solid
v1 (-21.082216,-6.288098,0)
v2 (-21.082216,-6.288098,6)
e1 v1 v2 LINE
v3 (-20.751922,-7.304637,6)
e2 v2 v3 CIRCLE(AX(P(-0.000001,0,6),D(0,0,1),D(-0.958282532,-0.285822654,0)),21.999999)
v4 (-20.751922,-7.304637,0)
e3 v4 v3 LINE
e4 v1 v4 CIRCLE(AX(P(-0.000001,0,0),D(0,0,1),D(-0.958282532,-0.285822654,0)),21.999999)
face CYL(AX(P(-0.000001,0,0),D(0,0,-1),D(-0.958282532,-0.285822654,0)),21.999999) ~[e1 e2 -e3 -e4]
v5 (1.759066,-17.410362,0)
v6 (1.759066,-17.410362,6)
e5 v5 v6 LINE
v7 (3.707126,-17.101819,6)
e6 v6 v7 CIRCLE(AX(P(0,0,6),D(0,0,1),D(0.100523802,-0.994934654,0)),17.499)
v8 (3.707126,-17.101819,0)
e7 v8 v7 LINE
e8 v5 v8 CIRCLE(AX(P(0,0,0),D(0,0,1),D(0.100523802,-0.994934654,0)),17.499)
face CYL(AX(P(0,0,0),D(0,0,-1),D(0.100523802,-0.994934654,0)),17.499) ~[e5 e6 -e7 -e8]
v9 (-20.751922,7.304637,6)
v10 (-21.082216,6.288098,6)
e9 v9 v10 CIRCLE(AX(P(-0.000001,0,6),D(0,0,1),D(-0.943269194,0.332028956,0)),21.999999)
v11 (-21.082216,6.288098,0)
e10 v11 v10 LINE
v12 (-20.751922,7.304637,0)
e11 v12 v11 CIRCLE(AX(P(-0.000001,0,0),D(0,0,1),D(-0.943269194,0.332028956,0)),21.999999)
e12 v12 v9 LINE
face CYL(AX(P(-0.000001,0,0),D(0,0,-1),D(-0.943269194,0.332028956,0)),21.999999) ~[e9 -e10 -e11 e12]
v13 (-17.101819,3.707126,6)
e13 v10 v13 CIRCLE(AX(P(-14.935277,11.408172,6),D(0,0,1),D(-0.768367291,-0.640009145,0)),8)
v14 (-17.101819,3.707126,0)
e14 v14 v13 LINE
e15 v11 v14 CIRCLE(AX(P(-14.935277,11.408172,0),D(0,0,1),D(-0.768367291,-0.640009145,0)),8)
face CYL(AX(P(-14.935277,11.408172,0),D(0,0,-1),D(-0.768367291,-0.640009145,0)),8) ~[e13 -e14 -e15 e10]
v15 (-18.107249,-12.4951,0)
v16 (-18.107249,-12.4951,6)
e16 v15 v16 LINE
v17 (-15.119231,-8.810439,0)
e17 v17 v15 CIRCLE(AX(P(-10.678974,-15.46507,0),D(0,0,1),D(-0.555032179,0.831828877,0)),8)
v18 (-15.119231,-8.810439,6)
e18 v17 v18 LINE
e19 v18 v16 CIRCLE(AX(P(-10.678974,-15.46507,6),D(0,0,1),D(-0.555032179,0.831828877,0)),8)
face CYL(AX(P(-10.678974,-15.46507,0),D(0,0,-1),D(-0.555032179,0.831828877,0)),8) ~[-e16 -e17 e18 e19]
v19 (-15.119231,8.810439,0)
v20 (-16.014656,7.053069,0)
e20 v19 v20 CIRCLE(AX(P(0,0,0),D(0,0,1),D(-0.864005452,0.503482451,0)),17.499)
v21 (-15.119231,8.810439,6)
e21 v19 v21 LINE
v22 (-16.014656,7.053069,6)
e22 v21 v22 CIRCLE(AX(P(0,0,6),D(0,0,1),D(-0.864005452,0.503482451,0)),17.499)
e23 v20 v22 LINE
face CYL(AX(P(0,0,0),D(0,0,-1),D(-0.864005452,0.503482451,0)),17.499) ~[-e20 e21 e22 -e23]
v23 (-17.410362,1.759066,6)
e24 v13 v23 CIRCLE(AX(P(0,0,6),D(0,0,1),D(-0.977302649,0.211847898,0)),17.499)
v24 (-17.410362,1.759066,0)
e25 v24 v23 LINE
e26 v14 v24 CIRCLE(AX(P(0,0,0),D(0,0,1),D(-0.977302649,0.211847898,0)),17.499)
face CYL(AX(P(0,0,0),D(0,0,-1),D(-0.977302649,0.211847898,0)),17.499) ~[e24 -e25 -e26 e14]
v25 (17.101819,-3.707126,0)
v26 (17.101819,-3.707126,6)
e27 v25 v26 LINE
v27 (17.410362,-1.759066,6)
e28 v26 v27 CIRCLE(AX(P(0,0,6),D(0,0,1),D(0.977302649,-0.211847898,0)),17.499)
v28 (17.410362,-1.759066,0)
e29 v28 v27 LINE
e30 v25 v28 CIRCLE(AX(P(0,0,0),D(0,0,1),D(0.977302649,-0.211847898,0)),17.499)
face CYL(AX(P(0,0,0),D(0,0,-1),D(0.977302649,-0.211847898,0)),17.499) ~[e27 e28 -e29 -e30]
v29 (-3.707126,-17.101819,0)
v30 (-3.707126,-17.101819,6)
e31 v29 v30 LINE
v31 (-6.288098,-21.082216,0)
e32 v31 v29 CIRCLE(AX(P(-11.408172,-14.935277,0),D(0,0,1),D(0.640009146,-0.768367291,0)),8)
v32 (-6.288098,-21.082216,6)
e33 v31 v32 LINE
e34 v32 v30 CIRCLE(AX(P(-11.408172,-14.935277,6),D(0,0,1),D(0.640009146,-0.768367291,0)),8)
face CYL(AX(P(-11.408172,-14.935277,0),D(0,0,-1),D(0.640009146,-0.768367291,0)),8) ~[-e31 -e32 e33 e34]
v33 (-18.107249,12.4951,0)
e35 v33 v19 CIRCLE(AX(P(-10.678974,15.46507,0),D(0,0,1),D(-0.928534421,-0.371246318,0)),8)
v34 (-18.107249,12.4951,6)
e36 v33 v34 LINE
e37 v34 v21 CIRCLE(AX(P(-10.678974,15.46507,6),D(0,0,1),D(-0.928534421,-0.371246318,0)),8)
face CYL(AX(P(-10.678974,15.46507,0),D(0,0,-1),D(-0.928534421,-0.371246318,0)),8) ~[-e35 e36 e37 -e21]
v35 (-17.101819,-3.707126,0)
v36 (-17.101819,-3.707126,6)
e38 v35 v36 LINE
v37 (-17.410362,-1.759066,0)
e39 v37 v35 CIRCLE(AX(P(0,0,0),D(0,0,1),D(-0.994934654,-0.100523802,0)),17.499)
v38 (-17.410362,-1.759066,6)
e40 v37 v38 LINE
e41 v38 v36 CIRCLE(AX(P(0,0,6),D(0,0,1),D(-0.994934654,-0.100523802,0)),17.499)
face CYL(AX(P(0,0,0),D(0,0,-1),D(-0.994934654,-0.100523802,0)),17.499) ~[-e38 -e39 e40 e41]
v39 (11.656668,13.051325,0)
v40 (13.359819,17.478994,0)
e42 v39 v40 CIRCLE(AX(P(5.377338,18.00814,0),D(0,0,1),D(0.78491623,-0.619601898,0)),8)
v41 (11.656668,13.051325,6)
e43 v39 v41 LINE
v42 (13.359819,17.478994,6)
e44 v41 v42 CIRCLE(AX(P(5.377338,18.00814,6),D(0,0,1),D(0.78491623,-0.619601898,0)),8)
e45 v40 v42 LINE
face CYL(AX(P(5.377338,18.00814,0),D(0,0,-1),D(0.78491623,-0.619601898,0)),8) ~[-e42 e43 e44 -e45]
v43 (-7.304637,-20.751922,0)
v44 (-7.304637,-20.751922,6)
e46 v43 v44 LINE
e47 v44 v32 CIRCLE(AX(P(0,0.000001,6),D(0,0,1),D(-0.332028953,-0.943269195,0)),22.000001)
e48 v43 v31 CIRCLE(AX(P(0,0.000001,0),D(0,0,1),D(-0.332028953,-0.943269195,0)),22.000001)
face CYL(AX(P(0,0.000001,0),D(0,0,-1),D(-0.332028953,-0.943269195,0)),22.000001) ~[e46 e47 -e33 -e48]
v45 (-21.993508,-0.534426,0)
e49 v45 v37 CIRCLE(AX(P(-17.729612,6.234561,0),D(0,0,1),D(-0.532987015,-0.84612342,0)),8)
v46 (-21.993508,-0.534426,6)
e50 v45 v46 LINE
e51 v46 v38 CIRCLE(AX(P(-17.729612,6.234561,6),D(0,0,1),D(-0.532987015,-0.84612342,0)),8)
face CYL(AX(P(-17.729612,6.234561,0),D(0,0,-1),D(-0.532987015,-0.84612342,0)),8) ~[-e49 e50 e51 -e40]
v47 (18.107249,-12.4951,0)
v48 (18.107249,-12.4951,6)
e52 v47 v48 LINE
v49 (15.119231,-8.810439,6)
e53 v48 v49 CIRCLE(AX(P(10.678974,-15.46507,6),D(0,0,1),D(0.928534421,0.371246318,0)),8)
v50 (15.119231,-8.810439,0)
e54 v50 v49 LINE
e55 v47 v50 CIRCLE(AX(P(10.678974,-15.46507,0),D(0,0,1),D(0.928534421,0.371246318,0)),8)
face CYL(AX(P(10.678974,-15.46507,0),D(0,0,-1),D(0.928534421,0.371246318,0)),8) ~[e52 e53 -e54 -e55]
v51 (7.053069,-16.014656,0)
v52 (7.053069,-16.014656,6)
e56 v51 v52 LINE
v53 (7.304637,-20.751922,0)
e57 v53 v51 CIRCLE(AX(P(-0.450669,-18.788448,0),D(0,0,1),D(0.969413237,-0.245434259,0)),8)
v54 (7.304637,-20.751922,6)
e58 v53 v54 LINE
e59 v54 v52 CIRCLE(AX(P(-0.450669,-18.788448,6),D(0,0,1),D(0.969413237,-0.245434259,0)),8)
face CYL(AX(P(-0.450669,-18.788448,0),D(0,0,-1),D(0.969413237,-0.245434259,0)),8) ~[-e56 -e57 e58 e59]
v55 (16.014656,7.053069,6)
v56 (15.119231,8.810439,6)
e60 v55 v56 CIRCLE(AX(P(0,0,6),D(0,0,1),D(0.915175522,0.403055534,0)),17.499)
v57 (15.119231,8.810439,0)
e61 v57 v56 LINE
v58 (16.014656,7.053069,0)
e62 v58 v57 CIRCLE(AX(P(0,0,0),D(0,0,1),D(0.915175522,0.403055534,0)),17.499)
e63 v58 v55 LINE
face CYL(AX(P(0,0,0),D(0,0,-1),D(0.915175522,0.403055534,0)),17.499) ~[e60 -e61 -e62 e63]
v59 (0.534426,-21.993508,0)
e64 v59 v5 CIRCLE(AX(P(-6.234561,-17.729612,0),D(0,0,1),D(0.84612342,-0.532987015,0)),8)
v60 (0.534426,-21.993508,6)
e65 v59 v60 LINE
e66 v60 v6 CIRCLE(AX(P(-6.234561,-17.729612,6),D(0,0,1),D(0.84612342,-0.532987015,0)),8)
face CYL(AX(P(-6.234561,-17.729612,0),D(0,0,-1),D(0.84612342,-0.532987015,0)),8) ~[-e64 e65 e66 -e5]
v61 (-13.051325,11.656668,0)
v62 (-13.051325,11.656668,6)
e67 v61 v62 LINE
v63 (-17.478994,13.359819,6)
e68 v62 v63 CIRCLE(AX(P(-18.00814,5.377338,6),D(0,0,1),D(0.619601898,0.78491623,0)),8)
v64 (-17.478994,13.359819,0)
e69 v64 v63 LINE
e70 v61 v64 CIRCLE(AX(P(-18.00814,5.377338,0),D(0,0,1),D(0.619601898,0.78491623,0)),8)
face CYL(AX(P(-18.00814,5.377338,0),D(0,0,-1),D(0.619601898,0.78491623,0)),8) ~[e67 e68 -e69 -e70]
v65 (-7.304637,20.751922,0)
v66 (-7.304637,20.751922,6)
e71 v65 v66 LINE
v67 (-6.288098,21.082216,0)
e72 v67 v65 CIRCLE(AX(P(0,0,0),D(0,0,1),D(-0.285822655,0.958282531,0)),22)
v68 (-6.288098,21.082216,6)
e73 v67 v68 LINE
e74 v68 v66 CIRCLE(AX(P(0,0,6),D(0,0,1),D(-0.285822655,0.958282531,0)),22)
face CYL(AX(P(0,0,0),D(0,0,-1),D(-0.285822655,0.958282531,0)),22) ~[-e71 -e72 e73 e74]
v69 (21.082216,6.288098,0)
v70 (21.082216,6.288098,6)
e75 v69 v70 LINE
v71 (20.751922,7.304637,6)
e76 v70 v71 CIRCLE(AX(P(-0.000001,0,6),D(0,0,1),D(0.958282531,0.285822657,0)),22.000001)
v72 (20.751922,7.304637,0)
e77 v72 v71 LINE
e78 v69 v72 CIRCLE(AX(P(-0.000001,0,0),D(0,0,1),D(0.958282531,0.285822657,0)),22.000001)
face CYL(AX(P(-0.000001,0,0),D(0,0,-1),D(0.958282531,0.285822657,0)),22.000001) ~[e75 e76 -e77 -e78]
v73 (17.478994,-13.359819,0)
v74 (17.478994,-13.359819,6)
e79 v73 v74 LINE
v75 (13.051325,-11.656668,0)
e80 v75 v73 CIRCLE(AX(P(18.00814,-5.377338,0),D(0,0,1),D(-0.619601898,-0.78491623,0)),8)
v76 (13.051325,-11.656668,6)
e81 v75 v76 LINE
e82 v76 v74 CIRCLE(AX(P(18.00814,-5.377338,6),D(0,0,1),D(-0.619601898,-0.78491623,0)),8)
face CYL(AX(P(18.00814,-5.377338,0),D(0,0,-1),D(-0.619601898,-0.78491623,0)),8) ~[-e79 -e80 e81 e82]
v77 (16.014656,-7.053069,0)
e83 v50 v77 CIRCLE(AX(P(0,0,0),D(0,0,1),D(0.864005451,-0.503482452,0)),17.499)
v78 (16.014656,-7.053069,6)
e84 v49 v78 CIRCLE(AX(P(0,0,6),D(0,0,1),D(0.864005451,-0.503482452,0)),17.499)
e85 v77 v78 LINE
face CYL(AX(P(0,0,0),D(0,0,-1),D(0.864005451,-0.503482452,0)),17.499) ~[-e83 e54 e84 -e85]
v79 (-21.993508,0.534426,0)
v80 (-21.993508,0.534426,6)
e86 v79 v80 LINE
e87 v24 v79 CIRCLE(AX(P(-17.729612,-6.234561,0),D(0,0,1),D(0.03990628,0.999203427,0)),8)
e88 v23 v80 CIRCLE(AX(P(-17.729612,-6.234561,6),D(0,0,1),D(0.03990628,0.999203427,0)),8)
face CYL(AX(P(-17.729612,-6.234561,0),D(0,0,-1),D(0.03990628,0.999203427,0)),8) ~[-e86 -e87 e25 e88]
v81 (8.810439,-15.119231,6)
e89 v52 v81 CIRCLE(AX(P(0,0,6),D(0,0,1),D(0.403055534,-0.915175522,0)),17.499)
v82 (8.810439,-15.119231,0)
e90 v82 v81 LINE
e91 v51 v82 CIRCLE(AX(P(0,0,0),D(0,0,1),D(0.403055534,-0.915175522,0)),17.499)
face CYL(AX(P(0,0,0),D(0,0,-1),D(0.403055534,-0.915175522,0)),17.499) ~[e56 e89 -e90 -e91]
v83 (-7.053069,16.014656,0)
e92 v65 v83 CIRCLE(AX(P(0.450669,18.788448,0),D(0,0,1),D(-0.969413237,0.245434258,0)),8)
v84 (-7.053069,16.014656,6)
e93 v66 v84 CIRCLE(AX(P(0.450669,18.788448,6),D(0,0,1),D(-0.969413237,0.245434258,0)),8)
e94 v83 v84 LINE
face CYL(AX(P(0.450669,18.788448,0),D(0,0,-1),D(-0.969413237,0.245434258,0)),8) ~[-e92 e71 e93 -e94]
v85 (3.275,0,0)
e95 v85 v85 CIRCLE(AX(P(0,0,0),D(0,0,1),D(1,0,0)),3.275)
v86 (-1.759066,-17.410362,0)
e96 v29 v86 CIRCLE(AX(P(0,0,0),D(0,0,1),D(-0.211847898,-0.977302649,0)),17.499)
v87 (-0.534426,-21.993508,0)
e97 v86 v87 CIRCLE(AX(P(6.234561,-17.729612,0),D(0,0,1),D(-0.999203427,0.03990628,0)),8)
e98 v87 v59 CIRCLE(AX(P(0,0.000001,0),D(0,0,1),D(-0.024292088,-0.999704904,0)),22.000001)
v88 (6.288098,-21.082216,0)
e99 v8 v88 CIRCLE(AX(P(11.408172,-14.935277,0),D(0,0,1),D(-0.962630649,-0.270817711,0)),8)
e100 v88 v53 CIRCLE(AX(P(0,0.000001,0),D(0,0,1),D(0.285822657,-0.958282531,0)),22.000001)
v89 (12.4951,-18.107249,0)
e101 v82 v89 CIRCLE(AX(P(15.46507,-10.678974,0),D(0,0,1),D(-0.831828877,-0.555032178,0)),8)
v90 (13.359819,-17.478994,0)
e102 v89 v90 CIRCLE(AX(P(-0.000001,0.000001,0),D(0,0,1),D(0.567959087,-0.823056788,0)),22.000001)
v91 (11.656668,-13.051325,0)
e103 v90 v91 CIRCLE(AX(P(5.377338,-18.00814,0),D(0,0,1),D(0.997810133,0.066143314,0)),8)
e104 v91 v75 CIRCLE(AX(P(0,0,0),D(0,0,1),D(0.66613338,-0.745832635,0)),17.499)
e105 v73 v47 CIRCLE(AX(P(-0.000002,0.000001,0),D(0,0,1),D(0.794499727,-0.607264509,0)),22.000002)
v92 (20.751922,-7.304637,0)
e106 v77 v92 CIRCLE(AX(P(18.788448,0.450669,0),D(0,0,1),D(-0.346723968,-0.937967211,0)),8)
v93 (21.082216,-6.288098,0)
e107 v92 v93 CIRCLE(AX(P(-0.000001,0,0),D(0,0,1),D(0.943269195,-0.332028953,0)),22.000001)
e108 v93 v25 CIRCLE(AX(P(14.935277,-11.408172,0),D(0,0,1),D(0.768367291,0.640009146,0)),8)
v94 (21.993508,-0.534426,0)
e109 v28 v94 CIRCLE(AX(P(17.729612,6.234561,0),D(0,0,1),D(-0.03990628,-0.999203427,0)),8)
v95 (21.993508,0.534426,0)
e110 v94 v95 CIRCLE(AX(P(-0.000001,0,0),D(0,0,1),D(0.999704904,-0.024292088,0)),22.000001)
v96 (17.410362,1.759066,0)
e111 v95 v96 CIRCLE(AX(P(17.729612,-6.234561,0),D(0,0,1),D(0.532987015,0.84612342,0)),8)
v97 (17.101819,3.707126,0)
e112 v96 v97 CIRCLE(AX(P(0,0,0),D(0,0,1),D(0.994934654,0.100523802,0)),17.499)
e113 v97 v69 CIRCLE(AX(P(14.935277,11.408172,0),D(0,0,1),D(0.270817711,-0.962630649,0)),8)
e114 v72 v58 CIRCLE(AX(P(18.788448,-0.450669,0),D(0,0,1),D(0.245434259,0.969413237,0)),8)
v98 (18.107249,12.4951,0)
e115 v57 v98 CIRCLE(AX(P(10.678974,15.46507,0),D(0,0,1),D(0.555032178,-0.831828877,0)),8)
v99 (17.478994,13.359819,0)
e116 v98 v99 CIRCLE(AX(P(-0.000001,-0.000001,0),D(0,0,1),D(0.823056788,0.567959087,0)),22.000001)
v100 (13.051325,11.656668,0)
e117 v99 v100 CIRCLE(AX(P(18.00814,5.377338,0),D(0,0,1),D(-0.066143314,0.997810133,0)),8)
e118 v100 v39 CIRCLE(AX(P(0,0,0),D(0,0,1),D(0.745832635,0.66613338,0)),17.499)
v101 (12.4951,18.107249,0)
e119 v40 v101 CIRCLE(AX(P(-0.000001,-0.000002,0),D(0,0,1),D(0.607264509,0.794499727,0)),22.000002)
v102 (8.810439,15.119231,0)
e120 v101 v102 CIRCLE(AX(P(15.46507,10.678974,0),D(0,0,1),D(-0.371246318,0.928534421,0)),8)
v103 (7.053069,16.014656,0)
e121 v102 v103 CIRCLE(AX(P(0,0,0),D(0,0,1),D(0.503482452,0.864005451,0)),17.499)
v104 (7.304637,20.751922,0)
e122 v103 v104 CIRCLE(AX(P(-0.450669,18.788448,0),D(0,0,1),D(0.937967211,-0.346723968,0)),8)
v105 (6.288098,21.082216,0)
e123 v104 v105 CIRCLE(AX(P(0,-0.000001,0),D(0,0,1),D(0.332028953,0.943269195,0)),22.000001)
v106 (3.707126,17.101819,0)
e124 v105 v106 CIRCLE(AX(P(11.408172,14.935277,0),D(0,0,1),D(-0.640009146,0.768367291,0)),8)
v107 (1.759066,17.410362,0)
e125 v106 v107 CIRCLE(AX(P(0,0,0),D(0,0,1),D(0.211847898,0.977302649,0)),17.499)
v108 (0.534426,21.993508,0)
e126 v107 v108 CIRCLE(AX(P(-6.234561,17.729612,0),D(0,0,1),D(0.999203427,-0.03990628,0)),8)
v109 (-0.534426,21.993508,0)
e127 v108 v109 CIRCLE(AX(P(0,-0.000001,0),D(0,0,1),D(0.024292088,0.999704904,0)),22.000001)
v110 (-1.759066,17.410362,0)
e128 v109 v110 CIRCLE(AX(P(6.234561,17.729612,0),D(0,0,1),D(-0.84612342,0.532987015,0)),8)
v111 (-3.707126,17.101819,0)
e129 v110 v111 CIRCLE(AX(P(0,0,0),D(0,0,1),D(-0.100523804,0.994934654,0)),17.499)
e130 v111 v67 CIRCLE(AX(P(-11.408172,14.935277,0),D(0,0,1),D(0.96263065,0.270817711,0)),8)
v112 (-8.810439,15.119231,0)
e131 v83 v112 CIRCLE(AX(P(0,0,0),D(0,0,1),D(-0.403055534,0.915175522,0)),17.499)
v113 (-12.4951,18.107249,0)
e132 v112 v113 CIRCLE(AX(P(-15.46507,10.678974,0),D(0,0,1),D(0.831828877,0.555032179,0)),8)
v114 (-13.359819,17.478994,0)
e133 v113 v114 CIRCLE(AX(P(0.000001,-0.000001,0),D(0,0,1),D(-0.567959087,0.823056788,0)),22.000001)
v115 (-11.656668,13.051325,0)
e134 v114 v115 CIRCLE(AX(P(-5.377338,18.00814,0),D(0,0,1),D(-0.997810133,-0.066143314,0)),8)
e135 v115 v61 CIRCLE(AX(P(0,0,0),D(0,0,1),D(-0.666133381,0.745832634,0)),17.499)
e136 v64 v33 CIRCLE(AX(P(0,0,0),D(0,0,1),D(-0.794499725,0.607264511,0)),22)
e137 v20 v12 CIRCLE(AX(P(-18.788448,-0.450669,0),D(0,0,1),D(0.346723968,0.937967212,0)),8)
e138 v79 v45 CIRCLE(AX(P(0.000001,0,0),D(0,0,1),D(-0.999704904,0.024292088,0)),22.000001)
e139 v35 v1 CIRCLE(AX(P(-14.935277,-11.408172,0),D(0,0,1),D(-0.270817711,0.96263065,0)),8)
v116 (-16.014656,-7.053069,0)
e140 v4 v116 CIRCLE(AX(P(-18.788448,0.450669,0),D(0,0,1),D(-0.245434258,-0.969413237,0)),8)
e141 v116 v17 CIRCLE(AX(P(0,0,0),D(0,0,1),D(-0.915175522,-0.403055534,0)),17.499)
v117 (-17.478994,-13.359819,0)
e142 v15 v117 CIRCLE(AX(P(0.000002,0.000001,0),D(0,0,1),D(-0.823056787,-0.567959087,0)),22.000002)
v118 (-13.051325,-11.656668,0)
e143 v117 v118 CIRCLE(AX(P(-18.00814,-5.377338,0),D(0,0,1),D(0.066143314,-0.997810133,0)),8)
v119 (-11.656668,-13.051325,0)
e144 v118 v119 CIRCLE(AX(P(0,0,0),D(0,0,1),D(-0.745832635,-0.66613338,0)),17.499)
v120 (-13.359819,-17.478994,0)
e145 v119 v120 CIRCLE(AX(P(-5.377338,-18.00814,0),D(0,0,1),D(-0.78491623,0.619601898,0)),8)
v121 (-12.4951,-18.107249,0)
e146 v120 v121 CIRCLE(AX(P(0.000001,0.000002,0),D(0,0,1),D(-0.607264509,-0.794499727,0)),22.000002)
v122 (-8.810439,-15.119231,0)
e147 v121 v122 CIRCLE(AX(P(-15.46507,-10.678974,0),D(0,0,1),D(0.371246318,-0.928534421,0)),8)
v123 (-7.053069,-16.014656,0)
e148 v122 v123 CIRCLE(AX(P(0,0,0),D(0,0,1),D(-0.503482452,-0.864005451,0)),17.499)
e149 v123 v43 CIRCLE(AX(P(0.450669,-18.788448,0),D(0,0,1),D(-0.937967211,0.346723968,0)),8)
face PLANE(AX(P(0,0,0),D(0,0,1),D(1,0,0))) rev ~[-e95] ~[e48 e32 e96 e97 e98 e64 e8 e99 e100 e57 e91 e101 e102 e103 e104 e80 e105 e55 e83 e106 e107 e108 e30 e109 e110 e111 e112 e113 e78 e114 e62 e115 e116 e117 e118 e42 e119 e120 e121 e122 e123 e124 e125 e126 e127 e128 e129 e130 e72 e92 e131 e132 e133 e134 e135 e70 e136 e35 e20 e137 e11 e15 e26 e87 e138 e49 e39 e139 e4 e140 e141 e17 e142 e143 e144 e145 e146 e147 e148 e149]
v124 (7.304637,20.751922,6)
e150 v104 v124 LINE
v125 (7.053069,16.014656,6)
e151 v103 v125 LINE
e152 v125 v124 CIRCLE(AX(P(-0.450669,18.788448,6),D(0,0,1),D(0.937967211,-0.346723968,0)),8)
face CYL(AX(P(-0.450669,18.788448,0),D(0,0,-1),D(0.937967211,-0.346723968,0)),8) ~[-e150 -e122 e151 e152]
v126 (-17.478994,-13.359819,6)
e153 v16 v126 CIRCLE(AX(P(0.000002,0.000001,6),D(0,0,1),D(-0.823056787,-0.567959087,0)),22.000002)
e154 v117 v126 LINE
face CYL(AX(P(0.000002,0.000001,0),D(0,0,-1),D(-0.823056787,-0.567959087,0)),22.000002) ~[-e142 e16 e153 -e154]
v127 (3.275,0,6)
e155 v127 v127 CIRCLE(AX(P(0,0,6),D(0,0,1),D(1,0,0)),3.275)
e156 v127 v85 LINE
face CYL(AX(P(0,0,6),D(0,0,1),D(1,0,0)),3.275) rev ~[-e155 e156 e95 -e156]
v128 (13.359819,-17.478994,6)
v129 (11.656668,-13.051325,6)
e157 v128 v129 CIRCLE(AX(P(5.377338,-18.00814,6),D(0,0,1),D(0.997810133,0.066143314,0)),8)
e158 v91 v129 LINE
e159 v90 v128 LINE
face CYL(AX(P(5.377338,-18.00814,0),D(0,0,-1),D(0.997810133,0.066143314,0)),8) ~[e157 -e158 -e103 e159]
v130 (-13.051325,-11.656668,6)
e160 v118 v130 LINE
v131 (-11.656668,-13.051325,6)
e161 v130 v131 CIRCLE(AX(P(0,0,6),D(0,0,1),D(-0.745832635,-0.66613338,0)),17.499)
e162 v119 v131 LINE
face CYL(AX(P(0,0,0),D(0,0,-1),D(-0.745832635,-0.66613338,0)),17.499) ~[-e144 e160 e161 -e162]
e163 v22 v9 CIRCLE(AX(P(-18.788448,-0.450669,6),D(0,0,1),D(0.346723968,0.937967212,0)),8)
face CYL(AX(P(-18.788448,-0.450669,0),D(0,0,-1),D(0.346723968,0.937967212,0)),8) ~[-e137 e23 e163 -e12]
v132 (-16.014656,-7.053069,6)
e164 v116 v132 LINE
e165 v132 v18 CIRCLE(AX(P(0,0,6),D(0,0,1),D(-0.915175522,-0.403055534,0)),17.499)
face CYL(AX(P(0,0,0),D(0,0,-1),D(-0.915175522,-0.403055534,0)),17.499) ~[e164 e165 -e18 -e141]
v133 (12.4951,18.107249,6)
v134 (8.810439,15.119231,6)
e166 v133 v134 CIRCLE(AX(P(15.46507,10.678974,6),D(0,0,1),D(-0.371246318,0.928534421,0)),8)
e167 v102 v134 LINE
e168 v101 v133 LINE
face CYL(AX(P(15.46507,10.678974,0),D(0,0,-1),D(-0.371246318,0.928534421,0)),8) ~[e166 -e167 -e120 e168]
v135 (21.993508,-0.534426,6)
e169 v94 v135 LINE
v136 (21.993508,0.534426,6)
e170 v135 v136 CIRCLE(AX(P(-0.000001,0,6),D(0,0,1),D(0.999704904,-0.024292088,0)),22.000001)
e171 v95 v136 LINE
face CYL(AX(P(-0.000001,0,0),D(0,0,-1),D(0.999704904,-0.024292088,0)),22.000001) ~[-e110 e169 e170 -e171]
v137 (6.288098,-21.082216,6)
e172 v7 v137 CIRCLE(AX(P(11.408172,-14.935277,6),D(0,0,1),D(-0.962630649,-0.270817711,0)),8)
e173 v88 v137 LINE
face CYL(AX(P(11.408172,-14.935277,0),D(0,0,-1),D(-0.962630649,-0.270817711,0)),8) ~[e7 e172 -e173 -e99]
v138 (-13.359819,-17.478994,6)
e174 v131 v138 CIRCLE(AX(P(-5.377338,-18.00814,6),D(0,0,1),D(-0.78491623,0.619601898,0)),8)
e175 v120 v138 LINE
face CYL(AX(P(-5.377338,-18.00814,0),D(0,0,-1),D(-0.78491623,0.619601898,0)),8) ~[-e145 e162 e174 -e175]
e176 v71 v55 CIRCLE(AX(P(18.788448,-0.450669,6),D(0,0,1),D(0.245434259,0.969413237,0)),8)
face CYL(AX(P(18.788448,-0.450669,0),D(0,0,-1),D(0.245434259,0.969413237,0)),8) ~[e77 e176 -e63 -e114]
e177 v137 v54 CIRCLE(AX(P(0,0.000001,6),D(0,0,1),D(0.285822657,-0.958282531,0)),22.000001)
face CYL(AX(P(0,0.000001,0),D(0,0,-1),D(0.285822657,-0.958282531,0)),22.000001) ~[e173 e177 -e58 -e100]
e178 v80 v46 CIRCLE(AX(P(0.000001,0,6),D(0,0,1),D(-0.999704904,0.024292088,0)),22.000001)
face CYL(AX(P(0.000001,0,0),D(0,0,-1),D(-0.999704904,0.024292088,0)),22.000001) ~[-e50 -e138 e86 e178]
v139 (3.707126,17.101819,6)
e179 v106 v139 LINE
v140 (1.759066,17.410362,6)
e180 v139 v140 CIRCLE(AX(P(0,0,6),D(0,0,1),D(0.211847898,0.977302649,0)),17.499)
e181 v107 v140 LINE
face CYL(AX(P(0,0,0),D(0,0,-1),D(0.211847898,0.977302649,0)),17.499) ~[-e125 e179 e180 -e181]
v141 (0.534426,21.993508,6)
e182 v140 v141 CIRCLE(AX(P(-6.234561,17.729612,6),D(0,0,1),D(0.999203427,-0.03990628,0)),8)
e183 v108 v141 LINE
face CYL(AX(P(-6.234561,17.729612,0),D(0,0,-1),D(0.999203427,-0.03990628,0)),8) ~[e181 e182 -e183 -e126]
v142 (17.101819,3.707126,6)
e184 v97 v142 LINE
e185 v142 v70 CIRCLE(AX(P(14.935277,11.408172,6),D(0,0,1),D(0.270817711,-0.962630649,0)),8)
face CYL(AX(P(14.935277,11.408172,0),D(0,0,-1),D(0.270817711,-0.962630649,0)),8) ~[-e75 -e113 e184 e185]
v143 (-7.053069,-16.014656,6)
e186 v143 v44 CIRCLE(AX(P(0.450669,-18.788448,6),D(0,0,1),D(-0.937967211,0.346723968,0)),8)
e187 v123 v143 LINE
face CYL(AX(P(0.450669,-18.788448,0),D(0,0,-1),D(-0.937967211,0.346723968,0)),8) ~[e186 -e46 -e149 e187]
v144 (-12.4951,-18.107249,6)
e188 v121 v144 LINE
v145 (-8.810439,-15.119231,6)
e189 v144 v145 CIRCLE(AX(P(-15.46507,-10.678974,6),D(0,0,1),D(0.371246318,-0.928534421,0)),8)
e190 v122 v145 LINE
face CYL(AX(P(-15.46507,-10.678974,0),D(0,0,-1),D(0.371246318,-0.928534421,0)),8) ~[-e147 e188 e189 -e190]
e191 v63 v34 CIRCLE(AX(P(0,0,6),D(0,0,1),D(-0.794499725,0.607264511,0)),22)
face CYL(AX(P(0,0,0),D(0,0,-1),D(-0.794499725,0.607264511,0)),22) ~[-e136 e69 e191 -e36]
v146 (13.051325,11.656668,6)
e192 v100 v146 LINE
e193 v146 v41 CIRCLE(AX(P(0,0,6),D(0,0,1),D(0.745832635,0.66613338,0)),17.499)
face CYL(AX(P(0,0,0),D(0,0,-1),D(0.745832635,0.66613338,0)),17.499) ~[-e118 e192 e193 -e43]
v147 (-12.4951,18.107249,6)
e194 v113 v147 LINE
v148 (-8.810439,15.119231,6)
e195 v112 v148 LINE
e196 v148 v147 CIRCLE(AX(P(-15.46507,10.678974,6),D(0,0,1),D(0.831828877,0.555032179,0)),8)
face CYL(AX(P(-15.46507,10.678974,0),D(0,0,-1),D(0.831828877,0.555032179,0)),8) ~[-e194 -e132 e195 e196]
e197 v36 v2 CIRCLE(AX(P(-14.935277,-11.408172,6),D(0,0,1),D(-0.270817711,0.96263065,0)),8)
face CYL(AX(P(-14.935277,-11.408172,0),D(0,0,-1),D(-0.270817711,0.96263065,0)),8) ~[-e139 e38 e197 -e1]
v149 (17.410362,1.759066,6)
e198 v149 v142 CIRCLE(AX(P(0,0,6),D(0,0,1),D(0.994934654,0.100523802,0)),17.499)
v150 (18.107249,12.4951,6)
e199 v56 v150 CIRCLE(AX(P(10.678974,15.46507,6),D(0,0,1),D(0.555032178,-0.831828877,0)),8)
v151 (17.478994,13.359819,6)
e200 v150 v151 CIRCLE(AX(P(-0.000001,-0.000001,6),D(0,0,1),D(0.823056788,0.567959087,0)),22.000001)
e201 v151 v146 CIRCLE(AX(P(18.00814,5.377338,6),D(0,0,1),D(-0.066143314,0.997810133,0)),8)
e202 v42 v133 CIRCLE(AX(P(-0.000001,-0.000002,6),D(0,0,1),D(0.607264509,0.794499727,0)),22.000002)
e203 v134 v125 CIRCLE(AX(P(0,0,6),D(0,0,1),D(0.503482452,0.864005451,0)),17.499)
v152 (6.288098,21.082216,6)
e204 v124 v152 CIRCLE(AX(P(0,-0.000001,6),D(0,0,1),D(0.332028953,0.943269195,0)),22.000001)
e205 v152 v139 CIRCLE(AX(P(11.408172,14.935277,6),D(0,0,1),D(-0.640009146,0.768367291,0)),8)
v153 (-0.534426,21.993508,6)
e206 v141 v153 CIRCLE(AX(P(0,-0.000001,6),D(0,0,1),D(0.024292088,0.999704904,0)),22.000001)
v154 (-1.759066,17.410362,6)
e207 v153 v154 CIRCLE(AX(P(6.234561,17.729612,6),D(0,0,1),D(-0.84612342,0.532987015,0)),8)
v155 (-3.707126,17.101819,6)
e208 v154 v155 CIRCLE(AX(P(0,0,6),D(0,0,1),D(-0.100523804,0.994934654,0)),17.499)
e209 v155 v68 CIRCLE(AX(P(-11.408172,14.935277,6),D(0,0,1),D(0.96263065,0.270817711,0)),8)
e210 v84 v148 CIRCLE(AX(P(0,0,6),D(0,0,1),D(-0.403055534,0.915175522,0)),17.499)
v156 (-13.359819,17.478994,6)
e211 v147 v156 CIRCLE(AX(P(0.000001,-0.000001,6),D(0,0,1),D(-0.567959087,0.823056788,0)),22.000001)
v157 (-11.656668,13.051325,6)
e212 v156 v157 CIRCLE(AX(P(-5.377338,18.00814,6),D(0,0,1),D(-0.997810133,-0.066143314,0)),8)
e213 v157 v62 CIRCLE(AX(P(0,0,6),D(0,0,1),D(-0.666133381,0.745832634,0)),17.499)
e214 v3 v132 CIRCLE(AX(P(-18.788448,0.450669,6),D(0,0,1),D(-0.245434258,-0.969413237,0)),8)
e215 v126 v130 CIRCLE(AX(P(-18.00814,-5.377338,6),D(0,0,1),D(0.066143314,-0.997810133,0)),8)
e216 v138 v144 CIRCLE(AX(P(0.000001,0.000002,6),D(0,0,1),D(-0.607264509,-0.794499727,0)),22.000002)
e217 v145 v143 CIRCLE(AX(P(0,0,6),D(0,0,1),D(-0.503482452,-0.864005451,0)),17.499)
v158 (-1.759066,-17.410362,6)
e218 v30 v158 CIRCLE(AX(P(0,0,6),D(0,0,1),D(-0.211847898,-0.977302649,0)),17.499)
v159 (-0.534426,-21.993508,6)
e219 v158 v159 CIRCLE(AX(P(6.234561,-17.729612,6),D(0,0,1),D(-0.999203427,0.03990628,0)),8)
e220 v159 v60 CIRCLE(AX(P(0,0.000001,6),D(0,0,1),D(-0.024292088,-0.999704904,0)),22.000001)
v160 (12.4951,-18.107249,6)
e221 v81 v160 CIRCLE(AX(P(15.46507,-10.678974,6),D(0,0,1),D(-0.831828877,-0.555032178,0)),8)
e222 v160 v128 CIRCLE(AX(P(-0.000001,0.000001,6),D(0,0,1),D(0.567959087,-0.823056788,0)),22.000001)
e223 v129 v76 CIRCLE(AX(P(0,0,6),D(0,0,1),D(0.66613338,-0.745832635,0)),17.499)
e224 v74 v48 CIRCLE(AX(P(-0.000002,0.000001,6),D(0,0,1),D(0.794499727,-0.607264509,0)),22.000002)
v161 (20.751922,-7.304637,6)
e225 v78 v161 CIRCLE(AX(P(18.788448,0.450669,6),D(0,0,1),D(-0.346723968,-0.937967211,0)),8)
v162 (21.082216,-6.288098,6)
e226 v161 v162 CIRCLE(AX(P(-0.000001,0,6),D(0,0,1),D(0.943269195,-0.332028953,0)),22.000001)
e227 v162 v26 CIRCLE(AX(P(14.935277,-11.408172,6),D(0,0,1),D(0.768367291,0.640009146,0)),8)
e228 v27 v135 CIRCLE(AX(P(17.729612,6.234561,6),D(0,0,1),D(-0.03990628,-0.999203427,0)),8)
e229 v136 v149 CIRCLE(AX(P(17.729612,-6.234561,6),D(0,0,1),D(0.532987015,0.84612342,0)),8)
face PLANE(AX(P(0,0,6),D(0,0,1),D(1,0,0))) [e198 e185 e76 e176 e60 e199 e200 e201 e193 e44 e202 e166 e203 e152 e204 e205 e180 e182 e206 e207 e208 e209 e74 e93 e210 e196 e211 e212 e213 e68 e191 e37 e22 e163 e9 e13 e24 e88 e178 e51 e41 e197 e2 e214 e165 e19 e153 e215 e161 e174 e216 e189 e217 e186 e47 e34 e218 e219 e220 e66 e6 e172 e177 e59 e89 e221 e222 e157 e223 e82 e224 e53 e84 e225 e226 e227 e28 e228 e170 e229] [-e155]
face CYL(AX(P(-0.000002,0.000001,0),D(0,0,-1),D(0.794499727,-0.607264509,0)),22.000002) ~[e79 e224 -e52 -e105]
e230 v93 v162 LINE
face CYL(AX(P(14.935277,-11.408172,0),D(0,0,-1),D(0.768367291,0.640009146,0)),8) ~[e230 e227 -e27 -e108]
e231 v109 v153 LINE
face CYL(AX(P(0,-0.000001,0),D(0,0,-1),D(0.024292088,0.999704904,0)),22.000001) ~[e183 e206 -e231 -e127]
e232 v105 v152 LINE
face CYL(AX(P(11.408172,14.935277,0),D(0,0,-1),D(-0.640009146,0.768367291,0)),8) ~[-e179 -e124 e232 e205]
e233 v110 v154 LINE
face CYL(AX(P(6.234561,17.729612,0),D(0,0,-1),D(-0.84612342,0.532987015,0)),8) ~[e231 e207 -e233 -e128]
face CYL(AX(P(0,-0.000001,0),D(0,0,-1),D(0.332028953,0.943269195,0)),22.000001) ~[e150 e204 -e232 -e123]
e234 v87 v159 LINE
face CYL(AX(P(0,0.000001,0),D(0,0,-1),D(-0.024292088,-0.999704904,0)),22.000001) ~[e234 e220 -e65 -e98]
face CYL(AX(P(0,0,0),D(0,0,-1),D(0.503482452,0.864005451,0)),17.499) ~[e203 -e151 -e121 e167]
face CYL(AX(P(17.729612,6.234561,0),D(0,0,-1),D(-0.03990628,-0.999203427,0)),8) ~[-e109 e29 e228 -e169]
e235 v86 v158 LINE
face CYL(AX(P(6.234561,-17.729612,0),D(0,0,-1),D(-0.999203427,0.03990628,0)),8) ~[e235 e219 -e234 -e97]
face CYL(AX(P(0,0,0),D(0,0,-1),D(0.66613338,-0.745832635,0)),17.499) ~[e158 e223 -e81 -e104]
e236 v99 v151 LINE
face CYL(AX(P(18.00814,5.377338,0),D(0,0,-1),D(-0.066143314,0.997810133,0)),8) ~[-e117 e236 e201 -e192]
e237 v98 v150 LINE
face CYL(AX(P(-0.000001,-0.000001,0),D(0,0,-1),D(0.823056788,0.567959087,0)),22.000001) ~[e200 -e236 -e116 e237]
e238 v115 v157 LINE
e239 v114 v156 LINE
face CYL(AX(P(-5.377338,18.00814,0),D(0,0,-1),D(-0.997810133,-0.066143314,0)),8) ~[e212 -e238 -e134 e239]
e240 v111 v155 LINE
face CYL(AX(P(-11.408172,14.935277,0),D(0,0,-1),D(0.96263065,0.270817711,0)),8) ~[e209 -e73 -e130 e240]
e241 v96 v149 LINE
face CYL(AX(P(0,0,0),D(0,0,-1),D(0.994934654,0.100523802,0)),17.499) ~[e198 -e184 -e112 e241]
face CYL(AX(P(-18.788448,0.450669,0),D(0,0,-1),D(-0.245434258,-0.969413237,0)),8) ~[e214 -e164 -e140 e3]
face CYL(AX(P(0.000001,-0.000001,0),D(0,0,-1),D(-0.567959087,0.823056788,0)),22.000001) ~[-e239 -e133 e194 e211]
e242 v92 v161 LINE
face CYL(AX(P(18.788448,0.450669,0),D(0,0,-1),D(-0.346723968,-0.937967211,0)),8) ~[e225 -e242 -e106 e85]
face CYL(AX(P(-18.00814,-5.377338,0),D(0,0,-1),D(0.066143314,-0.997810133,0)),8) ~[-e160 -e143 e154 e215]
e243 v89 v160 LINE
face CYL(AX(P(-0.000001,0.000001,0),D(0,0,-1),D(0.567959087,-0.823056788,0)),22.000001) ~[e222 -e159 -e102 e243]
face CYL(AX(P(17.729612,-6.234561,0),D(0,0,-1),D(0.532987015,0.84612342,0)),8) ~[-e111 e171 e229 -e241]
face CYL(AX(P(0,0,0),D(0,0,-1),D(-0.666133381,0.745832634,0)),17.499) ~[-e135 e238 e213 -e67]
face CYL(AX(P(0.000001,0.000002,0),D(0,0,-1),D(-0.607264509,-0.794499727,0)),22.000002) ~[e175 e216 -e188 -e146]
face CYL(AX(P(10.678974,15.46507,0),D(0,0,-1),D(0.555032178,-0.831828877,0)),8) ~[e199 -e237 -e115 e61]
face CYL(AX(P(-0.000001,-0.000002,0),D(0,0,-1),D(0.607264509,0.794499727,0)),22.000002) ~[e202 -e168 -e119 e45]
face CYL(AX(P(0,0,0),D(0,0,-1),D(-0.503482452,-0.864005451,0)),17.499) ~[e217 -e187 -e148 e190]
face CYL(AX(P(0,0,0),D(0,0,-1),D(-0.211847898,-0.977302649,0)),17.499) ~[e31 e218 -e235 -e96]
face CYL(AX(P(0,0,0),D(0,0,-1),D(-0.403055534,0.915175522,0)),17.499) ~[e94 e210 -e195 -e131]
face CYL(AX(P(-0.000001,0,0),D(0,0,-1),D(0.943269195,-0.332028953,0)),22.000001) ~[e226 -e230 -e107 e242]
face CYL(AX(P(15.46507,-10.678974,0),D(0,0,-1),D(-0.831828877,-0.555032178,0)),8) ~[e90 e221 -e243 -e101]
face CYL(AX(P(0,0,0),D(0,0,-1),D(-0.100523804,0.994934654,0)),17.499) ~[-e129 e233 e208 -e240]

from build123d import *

# Parameters (mm, degrees)
SKETCH1_R           = 2
BOSS_EXTRUDE1_DEPTH = 6
SKETCH2_R           = 5.139196493
BOSS_EXTRUDE2_DEPTH = 6
SKETCH3_R           = 3.275
CUT_EXTRUDE1_DEPTH  = 10


with BuildPart() as part:
    # Sketch1 → Boss-Extrude1 (new body)
    with BuildSketch(Plane.XY):
        with BuildLine():
            ThreePointArc((12.495099897, 18.107249337), (10.42619144, 16.892644253), (8.810439427, 15.119231399))
            ThreePointArc((8.810439427, 15.119231399), (7.944379755, 15.591723167), (7.053068783, 16.014656467))
            ThreePointArc((7.053068783, 16.014656467), (7.538074714, 18.364213225), (7.304636989, 20.751922283))
            ThreePointArc((7.304636989, 20.751922283), (6.798373876, 20.923243358), (6.288098413, 21.082215689))
            ThreePointArc((6.288098413, 21.082215689), (4.695783155, 19.287729735), (3.707126384, 17.101819055))
            ThreePointArc((3.707126384, 17.101819055), (2.737446704, 17.283558272), (1.759066019, 17.410361505))
            ThreePointArc((1.759066019, 17.410361505), (1.494281102, 19.794797846), (0.534425957, 21.993507881))
            ThreePointArc((0.534425957, 21.993507881), (0, 22), (-0.534425957, 21.993507881))
            ThreePointArc((-0.534425957, 21.993507881), (-1.494281102, 19.794797846), (-1.759066019, 17.410361506))
            ThreePointArc((-1.759066019, 17.410361506), (-2.737446704, 17.283558272), (-3.707126384, 17.101819055))
            ThreePointArc((-3.707126384, 17.101819055), (-4.695783155, 19.287729736), (-6.288098413, 21.082215689))
            ThreePointArc((-6.288098413, 21.082215689), (-6.798373876, 20.923243359), (-7.30463699, 20.751922284))
            ThreePointArc((-7.30463699, 20.751922284), (-7.538074714, 18.364213226), (-7.053068783, 16.014656467))
            ThreePointArc((-7.053068783, 16.014656467), (-7.944379755, 15.591723167), (-8.810439427, 15.1192314))
            ThreePointArc((-8.810439427, 15.1192314), (-10.42619144, 16.892644253), (-12.495099898, 18.107249337))
            ThreePointArc((-12.495099898, 18.107249337), (-12.931275551, 17.798373876), (-13.35981926, 17.478993946))
            ThreePointArc((-13.35981926, 17.478993946), (-12.843989052, 15.136011463), (-11.656668033, 13.051325273))
            ThreePointArc((-11.656668033, 13.051325273), (-12.373661564, 12.373661564), (-13.051325273, 11.656668033))
            ThreePointArc((-13.051325273, 11.656668033), (-15.136011463, 12.843989052), (-17.478993946, 13.35981926))
            ThreePointArc((-17.478993946, 13.35981926), (-17.798373876, 12.931275551), (-18.107249337, 12.495099897))
            ThreePointArc((-18.107249337, 12.495099897), (-16.892644253, 10.42619144), (-15.1192314, 8.810439427))
            ThreePointArc((-15.1192314, 8.810439427), (-15.591723167, 7.944379755), (-16.014656467, 7.053068783))
            ThreePointArc((-16.014656467, 7.053068783), (-18.364213226, 7.538074714), (-20.751922283, 7.30463699))
            ThreePointArc((-20.751922283, 7.30463699), (-20.923243359, 6.798373876), (-21.082215689, 6.288098413))
            ThreePointArc((-21.082215689, 6.288098413), (-19.287729736, 4.695783155), (-17.101819055, 3.707126384))
            ThreePointArc((-17.101819055, 3.707126384), (-17.283558272, 2.737446704), (-17.410361505, 1.759066019))
            ThreePointArc((-17.410361505, 1.759066019), (-19.794797846, 1.494281102), (-21.993507881, 0.534425956))
            ThreePointArc((-21.993507881, 0.534425956), (-22, 0), (-21.993507881, -0.534425957))
            ThreePointArc((-21.993507881, -0.534425957), (-19.794797846, -1.494281102), (-17.410361505, -1.759066019))
            ThreePointArc((-17.410361505, -1.759066019), (-17.283558272, -2.737446704), (-17.101819055, -3.707126384))
            ThreePointArc((-17.101819055, -3.707126384), (-19.287729736, -4.695783155), (-21.082215689, -6.288098413))
            ThreePointArc((-21.082215689, -6.288098413), (-20.923243359, -6.798373876), (-20.751922283, -7.30463699))
            ThreePointArc((-20.751922283, -7.30463699), (-18.364213225, -7.538074714), (-16.014656467, -7.053068783))
            ThreePointArc((-16.014656467, -7.053068783), (-15.591723167, -7.944379755), (-15.1192314, -8.810439427))
            ThreePointArc((-15.1192314, -8.810439427), (-16.892644253, -10.42619144), (-18.107249337, -12.495099897))
            ThreePointArc((-18.107249337, -12.495099897), (-17.798373876, -12.93127555), (-17.478993946, -13.35981926))
            ThreePointArc((-17.478993946, -13.35981926), (-15.136011463, -12.843989052), (-13.051325272, -11.656668033))
            ThreePointArc((-13.051325272, -11.656668033), (-12.373661564, -12.373661564), (-11.656668033, -13.051325272))
            ThreePointArc((-11.656668033, -13.051325272), (-12.843989052, -15.136011463), (-13.35981926, -17.478993946))
            ThreePointArc((-13.35981926, -17.478993946), (-12.93127555, -17.798373876), (-12.495099897, -18.107249337))
            ThreePointArc((-12.495099897, -18.107249337), (-10.42619144, -16.892644253), (-8.810439427, -15.119231399))
            ThreePointArc((-8.810439427, -15.119231399), (-7.944379755, -15.591723167), (-7.053068783, -16.014656467))
            ThreePointArc((-7.053068783, -16.014656467), (-7.538074714, -18.364213225), (-7.304636989, -20.751922283))
            ThreePointArc((-7.304636989, -20.751922283), (-6.798373876, -20.923243358), (-6.288098413, -21.082215689))
            ThreePointArc((-6.288098413, -21.082215689), (-4.695783155, -19.287729735), (-3.707126384, -17.101819055))
            ThreePointArc((-3.707126384, -17.101819055), (-2.737446704, -17.283558272), (-1.759066019, -17.410361505))
            ThreePointArc((-1.759066019, -17.410361505), (-1.494281102, -19.794797846), (-0.534425956, -21.993507881))
            ThreePointArc((-0.534425956, -21.993507881), (0, -22), (0.534425957, -21.993507881))
            ThreePointArc((0.534425957, -21.993507881), (1.494281102, -19.794797846), (1.759066019, -17.410361505))
            ThreePointArc((1.759066019, -17.410361505), (2.737446704, -17.283558272), (3.707126384, -17.101819055))
            ThreePointArc((3.707126384, -17.101819055), (4.695783155, -19.287729735), (6.288098413, -21.082215689))
            ThreePointArc((6.288098413, -21.082215689), (6.798373876, -20.923243358), (7.304636989, -20.751922283))
            ThreePointArc((7.304636989, -20.751922283), (7.538074714, -18.364213225), (7.053068783, -16.014656467))
            ThreePointArc((7.053068783, -16.014656467), (7.944379755, -15.591723167), (8.810439427, -15.119231399))
            ThreePointArc((8.810439427, -15.119231399), (10.42619144, -16.892644253), (12.495099897, -18.107249337))
            ThreePointArc((12.495099897, -18.107249337), (12.93127555, -17.798373876), (13.359819259, -17.478993946))
            ThreePointArc((13.359819259, -17.478993946), (12.843989052, -15.136011463), (11.656668033, -13.051325272))
            ThreePointArc((11.656668033, -13.051325272), (12.373661564, -12.373661564), (13.051325272, -11.656668033))
            ThreePointArc((13.051325272, -11.656668033), (15.136011463, -12.843989052), (17.478993946, -13.35981926))
            ThreePointArc((17.478993946, -13.35981926), (17.798373876, -12.93127555), (18.107249337, -12.495099897))
            ThreePointArc((18.107249337, -12.495099897), (16.892644253, -10.42619144), (15.119231399, -8.810439427))
            ThreePointArc((15.119231399, -8.810439427), (15.591723167, -7.944379755), (16.014656467, -7.053068783))
            ThreePointArc((16.014656467, -7.053068783), (18.364213225, -7.538074714), (20.751922283, -7.304636989))
            ThreePointArc((20.751922283, -7.304636989), (20.923243358, -6.798373876), (21.082215689, -6.288098413))
            ThreePointArc((21.082215689, -6.288098413), (19.287729735, -4.695783155), (17.101819055, -3.707126384))
            ThreePointArc((17.101819055, -3.707126384), (17.283558272, -2.737446704), (17.410361505, -1.759066019))
            ThreePointArc((17.410361505, -1.759066019), (19.794797846, -1.494281102), (21.993507881, -0.534425956))
            ThreePointArc((21.993507881, -0.534425956), (22, 0), (21.993507881, 0.534425957))
            ThreePointArc((21.993507881, 0.534425957), (19.794797846, 1.494281102), (17.410361505, 1.759066019))
            ThreePointArc((17.410361505, 1.759066019), (17.283558272, 2.737446704), (17.101819055, 3.707126384))
            ThreePointArc((17.101819055, 3.707126384), (19.287729735, 4.695783155), (21.082215689, 6.288098413))
            ThreePointArc((21.082215689, 6.288098413), (20.923243358, 6.798373876), (20.751922283, 7.304636989))
            ThreePointArc((20.751922283, 7.304636989), (18.364213225, 7.538074714), (16.014656467, 7.053068783))
            ThreePointArc((16.014656467, 7.053068783), (15.591723167, 7.944379755), (15.119231399, 8.810439427))
            ThreePointArc((15.119231399, 8.810439427), (16.892644253, 10.42619144), (18.107249337, 12.495099897))
            ThreePointArc((18.107249337, 12.495099897), (17.798373876, 12.93127555), (17.478993946, 13.359819259))
            ThreePointArc((17.478993946, 13.359819259), (15.136011463, 12.843989052), (13.051325272, 11.656668033))
            ThreePointArc((13.051325272, 11.656668033), (12.373661564, 12.373661564), (11.656668033, 13.051325272))
            ThreePointArc((11.656668033, 13.051325272), (12.843989052, 15.136011463), (13.35981926, 17.478993946))
            ThreePointArc((13.35981926, 17.478993946), (12.93127555, 17.798373876), (12.495099897, 18.107249337))
        make_face()
        Circle(SKETCH1_R, mode=Mode.SUBTRACT)
    extrude(amount=BOSS_EXTRUDE1_DEPTH)

    # Sketch2 → Boss-Extrude2 (add)
    with BuildSketch(Plane.XY.offset(6)):
        Circle(SKETCH2_R)
    extrude(amount=-BOSS_EXTRUDE2_DEPTH)

    # Sketch3 → Cut-Extrude1 (cut)
    with BuildSketch(Plane.XY.offset(6)):
        Circle(SKETCH3_R)
    extrude(amount=-CUT_EXTRUDE1_DEPTH, mode=Mode.SUBTRACT)


solid = part.part
